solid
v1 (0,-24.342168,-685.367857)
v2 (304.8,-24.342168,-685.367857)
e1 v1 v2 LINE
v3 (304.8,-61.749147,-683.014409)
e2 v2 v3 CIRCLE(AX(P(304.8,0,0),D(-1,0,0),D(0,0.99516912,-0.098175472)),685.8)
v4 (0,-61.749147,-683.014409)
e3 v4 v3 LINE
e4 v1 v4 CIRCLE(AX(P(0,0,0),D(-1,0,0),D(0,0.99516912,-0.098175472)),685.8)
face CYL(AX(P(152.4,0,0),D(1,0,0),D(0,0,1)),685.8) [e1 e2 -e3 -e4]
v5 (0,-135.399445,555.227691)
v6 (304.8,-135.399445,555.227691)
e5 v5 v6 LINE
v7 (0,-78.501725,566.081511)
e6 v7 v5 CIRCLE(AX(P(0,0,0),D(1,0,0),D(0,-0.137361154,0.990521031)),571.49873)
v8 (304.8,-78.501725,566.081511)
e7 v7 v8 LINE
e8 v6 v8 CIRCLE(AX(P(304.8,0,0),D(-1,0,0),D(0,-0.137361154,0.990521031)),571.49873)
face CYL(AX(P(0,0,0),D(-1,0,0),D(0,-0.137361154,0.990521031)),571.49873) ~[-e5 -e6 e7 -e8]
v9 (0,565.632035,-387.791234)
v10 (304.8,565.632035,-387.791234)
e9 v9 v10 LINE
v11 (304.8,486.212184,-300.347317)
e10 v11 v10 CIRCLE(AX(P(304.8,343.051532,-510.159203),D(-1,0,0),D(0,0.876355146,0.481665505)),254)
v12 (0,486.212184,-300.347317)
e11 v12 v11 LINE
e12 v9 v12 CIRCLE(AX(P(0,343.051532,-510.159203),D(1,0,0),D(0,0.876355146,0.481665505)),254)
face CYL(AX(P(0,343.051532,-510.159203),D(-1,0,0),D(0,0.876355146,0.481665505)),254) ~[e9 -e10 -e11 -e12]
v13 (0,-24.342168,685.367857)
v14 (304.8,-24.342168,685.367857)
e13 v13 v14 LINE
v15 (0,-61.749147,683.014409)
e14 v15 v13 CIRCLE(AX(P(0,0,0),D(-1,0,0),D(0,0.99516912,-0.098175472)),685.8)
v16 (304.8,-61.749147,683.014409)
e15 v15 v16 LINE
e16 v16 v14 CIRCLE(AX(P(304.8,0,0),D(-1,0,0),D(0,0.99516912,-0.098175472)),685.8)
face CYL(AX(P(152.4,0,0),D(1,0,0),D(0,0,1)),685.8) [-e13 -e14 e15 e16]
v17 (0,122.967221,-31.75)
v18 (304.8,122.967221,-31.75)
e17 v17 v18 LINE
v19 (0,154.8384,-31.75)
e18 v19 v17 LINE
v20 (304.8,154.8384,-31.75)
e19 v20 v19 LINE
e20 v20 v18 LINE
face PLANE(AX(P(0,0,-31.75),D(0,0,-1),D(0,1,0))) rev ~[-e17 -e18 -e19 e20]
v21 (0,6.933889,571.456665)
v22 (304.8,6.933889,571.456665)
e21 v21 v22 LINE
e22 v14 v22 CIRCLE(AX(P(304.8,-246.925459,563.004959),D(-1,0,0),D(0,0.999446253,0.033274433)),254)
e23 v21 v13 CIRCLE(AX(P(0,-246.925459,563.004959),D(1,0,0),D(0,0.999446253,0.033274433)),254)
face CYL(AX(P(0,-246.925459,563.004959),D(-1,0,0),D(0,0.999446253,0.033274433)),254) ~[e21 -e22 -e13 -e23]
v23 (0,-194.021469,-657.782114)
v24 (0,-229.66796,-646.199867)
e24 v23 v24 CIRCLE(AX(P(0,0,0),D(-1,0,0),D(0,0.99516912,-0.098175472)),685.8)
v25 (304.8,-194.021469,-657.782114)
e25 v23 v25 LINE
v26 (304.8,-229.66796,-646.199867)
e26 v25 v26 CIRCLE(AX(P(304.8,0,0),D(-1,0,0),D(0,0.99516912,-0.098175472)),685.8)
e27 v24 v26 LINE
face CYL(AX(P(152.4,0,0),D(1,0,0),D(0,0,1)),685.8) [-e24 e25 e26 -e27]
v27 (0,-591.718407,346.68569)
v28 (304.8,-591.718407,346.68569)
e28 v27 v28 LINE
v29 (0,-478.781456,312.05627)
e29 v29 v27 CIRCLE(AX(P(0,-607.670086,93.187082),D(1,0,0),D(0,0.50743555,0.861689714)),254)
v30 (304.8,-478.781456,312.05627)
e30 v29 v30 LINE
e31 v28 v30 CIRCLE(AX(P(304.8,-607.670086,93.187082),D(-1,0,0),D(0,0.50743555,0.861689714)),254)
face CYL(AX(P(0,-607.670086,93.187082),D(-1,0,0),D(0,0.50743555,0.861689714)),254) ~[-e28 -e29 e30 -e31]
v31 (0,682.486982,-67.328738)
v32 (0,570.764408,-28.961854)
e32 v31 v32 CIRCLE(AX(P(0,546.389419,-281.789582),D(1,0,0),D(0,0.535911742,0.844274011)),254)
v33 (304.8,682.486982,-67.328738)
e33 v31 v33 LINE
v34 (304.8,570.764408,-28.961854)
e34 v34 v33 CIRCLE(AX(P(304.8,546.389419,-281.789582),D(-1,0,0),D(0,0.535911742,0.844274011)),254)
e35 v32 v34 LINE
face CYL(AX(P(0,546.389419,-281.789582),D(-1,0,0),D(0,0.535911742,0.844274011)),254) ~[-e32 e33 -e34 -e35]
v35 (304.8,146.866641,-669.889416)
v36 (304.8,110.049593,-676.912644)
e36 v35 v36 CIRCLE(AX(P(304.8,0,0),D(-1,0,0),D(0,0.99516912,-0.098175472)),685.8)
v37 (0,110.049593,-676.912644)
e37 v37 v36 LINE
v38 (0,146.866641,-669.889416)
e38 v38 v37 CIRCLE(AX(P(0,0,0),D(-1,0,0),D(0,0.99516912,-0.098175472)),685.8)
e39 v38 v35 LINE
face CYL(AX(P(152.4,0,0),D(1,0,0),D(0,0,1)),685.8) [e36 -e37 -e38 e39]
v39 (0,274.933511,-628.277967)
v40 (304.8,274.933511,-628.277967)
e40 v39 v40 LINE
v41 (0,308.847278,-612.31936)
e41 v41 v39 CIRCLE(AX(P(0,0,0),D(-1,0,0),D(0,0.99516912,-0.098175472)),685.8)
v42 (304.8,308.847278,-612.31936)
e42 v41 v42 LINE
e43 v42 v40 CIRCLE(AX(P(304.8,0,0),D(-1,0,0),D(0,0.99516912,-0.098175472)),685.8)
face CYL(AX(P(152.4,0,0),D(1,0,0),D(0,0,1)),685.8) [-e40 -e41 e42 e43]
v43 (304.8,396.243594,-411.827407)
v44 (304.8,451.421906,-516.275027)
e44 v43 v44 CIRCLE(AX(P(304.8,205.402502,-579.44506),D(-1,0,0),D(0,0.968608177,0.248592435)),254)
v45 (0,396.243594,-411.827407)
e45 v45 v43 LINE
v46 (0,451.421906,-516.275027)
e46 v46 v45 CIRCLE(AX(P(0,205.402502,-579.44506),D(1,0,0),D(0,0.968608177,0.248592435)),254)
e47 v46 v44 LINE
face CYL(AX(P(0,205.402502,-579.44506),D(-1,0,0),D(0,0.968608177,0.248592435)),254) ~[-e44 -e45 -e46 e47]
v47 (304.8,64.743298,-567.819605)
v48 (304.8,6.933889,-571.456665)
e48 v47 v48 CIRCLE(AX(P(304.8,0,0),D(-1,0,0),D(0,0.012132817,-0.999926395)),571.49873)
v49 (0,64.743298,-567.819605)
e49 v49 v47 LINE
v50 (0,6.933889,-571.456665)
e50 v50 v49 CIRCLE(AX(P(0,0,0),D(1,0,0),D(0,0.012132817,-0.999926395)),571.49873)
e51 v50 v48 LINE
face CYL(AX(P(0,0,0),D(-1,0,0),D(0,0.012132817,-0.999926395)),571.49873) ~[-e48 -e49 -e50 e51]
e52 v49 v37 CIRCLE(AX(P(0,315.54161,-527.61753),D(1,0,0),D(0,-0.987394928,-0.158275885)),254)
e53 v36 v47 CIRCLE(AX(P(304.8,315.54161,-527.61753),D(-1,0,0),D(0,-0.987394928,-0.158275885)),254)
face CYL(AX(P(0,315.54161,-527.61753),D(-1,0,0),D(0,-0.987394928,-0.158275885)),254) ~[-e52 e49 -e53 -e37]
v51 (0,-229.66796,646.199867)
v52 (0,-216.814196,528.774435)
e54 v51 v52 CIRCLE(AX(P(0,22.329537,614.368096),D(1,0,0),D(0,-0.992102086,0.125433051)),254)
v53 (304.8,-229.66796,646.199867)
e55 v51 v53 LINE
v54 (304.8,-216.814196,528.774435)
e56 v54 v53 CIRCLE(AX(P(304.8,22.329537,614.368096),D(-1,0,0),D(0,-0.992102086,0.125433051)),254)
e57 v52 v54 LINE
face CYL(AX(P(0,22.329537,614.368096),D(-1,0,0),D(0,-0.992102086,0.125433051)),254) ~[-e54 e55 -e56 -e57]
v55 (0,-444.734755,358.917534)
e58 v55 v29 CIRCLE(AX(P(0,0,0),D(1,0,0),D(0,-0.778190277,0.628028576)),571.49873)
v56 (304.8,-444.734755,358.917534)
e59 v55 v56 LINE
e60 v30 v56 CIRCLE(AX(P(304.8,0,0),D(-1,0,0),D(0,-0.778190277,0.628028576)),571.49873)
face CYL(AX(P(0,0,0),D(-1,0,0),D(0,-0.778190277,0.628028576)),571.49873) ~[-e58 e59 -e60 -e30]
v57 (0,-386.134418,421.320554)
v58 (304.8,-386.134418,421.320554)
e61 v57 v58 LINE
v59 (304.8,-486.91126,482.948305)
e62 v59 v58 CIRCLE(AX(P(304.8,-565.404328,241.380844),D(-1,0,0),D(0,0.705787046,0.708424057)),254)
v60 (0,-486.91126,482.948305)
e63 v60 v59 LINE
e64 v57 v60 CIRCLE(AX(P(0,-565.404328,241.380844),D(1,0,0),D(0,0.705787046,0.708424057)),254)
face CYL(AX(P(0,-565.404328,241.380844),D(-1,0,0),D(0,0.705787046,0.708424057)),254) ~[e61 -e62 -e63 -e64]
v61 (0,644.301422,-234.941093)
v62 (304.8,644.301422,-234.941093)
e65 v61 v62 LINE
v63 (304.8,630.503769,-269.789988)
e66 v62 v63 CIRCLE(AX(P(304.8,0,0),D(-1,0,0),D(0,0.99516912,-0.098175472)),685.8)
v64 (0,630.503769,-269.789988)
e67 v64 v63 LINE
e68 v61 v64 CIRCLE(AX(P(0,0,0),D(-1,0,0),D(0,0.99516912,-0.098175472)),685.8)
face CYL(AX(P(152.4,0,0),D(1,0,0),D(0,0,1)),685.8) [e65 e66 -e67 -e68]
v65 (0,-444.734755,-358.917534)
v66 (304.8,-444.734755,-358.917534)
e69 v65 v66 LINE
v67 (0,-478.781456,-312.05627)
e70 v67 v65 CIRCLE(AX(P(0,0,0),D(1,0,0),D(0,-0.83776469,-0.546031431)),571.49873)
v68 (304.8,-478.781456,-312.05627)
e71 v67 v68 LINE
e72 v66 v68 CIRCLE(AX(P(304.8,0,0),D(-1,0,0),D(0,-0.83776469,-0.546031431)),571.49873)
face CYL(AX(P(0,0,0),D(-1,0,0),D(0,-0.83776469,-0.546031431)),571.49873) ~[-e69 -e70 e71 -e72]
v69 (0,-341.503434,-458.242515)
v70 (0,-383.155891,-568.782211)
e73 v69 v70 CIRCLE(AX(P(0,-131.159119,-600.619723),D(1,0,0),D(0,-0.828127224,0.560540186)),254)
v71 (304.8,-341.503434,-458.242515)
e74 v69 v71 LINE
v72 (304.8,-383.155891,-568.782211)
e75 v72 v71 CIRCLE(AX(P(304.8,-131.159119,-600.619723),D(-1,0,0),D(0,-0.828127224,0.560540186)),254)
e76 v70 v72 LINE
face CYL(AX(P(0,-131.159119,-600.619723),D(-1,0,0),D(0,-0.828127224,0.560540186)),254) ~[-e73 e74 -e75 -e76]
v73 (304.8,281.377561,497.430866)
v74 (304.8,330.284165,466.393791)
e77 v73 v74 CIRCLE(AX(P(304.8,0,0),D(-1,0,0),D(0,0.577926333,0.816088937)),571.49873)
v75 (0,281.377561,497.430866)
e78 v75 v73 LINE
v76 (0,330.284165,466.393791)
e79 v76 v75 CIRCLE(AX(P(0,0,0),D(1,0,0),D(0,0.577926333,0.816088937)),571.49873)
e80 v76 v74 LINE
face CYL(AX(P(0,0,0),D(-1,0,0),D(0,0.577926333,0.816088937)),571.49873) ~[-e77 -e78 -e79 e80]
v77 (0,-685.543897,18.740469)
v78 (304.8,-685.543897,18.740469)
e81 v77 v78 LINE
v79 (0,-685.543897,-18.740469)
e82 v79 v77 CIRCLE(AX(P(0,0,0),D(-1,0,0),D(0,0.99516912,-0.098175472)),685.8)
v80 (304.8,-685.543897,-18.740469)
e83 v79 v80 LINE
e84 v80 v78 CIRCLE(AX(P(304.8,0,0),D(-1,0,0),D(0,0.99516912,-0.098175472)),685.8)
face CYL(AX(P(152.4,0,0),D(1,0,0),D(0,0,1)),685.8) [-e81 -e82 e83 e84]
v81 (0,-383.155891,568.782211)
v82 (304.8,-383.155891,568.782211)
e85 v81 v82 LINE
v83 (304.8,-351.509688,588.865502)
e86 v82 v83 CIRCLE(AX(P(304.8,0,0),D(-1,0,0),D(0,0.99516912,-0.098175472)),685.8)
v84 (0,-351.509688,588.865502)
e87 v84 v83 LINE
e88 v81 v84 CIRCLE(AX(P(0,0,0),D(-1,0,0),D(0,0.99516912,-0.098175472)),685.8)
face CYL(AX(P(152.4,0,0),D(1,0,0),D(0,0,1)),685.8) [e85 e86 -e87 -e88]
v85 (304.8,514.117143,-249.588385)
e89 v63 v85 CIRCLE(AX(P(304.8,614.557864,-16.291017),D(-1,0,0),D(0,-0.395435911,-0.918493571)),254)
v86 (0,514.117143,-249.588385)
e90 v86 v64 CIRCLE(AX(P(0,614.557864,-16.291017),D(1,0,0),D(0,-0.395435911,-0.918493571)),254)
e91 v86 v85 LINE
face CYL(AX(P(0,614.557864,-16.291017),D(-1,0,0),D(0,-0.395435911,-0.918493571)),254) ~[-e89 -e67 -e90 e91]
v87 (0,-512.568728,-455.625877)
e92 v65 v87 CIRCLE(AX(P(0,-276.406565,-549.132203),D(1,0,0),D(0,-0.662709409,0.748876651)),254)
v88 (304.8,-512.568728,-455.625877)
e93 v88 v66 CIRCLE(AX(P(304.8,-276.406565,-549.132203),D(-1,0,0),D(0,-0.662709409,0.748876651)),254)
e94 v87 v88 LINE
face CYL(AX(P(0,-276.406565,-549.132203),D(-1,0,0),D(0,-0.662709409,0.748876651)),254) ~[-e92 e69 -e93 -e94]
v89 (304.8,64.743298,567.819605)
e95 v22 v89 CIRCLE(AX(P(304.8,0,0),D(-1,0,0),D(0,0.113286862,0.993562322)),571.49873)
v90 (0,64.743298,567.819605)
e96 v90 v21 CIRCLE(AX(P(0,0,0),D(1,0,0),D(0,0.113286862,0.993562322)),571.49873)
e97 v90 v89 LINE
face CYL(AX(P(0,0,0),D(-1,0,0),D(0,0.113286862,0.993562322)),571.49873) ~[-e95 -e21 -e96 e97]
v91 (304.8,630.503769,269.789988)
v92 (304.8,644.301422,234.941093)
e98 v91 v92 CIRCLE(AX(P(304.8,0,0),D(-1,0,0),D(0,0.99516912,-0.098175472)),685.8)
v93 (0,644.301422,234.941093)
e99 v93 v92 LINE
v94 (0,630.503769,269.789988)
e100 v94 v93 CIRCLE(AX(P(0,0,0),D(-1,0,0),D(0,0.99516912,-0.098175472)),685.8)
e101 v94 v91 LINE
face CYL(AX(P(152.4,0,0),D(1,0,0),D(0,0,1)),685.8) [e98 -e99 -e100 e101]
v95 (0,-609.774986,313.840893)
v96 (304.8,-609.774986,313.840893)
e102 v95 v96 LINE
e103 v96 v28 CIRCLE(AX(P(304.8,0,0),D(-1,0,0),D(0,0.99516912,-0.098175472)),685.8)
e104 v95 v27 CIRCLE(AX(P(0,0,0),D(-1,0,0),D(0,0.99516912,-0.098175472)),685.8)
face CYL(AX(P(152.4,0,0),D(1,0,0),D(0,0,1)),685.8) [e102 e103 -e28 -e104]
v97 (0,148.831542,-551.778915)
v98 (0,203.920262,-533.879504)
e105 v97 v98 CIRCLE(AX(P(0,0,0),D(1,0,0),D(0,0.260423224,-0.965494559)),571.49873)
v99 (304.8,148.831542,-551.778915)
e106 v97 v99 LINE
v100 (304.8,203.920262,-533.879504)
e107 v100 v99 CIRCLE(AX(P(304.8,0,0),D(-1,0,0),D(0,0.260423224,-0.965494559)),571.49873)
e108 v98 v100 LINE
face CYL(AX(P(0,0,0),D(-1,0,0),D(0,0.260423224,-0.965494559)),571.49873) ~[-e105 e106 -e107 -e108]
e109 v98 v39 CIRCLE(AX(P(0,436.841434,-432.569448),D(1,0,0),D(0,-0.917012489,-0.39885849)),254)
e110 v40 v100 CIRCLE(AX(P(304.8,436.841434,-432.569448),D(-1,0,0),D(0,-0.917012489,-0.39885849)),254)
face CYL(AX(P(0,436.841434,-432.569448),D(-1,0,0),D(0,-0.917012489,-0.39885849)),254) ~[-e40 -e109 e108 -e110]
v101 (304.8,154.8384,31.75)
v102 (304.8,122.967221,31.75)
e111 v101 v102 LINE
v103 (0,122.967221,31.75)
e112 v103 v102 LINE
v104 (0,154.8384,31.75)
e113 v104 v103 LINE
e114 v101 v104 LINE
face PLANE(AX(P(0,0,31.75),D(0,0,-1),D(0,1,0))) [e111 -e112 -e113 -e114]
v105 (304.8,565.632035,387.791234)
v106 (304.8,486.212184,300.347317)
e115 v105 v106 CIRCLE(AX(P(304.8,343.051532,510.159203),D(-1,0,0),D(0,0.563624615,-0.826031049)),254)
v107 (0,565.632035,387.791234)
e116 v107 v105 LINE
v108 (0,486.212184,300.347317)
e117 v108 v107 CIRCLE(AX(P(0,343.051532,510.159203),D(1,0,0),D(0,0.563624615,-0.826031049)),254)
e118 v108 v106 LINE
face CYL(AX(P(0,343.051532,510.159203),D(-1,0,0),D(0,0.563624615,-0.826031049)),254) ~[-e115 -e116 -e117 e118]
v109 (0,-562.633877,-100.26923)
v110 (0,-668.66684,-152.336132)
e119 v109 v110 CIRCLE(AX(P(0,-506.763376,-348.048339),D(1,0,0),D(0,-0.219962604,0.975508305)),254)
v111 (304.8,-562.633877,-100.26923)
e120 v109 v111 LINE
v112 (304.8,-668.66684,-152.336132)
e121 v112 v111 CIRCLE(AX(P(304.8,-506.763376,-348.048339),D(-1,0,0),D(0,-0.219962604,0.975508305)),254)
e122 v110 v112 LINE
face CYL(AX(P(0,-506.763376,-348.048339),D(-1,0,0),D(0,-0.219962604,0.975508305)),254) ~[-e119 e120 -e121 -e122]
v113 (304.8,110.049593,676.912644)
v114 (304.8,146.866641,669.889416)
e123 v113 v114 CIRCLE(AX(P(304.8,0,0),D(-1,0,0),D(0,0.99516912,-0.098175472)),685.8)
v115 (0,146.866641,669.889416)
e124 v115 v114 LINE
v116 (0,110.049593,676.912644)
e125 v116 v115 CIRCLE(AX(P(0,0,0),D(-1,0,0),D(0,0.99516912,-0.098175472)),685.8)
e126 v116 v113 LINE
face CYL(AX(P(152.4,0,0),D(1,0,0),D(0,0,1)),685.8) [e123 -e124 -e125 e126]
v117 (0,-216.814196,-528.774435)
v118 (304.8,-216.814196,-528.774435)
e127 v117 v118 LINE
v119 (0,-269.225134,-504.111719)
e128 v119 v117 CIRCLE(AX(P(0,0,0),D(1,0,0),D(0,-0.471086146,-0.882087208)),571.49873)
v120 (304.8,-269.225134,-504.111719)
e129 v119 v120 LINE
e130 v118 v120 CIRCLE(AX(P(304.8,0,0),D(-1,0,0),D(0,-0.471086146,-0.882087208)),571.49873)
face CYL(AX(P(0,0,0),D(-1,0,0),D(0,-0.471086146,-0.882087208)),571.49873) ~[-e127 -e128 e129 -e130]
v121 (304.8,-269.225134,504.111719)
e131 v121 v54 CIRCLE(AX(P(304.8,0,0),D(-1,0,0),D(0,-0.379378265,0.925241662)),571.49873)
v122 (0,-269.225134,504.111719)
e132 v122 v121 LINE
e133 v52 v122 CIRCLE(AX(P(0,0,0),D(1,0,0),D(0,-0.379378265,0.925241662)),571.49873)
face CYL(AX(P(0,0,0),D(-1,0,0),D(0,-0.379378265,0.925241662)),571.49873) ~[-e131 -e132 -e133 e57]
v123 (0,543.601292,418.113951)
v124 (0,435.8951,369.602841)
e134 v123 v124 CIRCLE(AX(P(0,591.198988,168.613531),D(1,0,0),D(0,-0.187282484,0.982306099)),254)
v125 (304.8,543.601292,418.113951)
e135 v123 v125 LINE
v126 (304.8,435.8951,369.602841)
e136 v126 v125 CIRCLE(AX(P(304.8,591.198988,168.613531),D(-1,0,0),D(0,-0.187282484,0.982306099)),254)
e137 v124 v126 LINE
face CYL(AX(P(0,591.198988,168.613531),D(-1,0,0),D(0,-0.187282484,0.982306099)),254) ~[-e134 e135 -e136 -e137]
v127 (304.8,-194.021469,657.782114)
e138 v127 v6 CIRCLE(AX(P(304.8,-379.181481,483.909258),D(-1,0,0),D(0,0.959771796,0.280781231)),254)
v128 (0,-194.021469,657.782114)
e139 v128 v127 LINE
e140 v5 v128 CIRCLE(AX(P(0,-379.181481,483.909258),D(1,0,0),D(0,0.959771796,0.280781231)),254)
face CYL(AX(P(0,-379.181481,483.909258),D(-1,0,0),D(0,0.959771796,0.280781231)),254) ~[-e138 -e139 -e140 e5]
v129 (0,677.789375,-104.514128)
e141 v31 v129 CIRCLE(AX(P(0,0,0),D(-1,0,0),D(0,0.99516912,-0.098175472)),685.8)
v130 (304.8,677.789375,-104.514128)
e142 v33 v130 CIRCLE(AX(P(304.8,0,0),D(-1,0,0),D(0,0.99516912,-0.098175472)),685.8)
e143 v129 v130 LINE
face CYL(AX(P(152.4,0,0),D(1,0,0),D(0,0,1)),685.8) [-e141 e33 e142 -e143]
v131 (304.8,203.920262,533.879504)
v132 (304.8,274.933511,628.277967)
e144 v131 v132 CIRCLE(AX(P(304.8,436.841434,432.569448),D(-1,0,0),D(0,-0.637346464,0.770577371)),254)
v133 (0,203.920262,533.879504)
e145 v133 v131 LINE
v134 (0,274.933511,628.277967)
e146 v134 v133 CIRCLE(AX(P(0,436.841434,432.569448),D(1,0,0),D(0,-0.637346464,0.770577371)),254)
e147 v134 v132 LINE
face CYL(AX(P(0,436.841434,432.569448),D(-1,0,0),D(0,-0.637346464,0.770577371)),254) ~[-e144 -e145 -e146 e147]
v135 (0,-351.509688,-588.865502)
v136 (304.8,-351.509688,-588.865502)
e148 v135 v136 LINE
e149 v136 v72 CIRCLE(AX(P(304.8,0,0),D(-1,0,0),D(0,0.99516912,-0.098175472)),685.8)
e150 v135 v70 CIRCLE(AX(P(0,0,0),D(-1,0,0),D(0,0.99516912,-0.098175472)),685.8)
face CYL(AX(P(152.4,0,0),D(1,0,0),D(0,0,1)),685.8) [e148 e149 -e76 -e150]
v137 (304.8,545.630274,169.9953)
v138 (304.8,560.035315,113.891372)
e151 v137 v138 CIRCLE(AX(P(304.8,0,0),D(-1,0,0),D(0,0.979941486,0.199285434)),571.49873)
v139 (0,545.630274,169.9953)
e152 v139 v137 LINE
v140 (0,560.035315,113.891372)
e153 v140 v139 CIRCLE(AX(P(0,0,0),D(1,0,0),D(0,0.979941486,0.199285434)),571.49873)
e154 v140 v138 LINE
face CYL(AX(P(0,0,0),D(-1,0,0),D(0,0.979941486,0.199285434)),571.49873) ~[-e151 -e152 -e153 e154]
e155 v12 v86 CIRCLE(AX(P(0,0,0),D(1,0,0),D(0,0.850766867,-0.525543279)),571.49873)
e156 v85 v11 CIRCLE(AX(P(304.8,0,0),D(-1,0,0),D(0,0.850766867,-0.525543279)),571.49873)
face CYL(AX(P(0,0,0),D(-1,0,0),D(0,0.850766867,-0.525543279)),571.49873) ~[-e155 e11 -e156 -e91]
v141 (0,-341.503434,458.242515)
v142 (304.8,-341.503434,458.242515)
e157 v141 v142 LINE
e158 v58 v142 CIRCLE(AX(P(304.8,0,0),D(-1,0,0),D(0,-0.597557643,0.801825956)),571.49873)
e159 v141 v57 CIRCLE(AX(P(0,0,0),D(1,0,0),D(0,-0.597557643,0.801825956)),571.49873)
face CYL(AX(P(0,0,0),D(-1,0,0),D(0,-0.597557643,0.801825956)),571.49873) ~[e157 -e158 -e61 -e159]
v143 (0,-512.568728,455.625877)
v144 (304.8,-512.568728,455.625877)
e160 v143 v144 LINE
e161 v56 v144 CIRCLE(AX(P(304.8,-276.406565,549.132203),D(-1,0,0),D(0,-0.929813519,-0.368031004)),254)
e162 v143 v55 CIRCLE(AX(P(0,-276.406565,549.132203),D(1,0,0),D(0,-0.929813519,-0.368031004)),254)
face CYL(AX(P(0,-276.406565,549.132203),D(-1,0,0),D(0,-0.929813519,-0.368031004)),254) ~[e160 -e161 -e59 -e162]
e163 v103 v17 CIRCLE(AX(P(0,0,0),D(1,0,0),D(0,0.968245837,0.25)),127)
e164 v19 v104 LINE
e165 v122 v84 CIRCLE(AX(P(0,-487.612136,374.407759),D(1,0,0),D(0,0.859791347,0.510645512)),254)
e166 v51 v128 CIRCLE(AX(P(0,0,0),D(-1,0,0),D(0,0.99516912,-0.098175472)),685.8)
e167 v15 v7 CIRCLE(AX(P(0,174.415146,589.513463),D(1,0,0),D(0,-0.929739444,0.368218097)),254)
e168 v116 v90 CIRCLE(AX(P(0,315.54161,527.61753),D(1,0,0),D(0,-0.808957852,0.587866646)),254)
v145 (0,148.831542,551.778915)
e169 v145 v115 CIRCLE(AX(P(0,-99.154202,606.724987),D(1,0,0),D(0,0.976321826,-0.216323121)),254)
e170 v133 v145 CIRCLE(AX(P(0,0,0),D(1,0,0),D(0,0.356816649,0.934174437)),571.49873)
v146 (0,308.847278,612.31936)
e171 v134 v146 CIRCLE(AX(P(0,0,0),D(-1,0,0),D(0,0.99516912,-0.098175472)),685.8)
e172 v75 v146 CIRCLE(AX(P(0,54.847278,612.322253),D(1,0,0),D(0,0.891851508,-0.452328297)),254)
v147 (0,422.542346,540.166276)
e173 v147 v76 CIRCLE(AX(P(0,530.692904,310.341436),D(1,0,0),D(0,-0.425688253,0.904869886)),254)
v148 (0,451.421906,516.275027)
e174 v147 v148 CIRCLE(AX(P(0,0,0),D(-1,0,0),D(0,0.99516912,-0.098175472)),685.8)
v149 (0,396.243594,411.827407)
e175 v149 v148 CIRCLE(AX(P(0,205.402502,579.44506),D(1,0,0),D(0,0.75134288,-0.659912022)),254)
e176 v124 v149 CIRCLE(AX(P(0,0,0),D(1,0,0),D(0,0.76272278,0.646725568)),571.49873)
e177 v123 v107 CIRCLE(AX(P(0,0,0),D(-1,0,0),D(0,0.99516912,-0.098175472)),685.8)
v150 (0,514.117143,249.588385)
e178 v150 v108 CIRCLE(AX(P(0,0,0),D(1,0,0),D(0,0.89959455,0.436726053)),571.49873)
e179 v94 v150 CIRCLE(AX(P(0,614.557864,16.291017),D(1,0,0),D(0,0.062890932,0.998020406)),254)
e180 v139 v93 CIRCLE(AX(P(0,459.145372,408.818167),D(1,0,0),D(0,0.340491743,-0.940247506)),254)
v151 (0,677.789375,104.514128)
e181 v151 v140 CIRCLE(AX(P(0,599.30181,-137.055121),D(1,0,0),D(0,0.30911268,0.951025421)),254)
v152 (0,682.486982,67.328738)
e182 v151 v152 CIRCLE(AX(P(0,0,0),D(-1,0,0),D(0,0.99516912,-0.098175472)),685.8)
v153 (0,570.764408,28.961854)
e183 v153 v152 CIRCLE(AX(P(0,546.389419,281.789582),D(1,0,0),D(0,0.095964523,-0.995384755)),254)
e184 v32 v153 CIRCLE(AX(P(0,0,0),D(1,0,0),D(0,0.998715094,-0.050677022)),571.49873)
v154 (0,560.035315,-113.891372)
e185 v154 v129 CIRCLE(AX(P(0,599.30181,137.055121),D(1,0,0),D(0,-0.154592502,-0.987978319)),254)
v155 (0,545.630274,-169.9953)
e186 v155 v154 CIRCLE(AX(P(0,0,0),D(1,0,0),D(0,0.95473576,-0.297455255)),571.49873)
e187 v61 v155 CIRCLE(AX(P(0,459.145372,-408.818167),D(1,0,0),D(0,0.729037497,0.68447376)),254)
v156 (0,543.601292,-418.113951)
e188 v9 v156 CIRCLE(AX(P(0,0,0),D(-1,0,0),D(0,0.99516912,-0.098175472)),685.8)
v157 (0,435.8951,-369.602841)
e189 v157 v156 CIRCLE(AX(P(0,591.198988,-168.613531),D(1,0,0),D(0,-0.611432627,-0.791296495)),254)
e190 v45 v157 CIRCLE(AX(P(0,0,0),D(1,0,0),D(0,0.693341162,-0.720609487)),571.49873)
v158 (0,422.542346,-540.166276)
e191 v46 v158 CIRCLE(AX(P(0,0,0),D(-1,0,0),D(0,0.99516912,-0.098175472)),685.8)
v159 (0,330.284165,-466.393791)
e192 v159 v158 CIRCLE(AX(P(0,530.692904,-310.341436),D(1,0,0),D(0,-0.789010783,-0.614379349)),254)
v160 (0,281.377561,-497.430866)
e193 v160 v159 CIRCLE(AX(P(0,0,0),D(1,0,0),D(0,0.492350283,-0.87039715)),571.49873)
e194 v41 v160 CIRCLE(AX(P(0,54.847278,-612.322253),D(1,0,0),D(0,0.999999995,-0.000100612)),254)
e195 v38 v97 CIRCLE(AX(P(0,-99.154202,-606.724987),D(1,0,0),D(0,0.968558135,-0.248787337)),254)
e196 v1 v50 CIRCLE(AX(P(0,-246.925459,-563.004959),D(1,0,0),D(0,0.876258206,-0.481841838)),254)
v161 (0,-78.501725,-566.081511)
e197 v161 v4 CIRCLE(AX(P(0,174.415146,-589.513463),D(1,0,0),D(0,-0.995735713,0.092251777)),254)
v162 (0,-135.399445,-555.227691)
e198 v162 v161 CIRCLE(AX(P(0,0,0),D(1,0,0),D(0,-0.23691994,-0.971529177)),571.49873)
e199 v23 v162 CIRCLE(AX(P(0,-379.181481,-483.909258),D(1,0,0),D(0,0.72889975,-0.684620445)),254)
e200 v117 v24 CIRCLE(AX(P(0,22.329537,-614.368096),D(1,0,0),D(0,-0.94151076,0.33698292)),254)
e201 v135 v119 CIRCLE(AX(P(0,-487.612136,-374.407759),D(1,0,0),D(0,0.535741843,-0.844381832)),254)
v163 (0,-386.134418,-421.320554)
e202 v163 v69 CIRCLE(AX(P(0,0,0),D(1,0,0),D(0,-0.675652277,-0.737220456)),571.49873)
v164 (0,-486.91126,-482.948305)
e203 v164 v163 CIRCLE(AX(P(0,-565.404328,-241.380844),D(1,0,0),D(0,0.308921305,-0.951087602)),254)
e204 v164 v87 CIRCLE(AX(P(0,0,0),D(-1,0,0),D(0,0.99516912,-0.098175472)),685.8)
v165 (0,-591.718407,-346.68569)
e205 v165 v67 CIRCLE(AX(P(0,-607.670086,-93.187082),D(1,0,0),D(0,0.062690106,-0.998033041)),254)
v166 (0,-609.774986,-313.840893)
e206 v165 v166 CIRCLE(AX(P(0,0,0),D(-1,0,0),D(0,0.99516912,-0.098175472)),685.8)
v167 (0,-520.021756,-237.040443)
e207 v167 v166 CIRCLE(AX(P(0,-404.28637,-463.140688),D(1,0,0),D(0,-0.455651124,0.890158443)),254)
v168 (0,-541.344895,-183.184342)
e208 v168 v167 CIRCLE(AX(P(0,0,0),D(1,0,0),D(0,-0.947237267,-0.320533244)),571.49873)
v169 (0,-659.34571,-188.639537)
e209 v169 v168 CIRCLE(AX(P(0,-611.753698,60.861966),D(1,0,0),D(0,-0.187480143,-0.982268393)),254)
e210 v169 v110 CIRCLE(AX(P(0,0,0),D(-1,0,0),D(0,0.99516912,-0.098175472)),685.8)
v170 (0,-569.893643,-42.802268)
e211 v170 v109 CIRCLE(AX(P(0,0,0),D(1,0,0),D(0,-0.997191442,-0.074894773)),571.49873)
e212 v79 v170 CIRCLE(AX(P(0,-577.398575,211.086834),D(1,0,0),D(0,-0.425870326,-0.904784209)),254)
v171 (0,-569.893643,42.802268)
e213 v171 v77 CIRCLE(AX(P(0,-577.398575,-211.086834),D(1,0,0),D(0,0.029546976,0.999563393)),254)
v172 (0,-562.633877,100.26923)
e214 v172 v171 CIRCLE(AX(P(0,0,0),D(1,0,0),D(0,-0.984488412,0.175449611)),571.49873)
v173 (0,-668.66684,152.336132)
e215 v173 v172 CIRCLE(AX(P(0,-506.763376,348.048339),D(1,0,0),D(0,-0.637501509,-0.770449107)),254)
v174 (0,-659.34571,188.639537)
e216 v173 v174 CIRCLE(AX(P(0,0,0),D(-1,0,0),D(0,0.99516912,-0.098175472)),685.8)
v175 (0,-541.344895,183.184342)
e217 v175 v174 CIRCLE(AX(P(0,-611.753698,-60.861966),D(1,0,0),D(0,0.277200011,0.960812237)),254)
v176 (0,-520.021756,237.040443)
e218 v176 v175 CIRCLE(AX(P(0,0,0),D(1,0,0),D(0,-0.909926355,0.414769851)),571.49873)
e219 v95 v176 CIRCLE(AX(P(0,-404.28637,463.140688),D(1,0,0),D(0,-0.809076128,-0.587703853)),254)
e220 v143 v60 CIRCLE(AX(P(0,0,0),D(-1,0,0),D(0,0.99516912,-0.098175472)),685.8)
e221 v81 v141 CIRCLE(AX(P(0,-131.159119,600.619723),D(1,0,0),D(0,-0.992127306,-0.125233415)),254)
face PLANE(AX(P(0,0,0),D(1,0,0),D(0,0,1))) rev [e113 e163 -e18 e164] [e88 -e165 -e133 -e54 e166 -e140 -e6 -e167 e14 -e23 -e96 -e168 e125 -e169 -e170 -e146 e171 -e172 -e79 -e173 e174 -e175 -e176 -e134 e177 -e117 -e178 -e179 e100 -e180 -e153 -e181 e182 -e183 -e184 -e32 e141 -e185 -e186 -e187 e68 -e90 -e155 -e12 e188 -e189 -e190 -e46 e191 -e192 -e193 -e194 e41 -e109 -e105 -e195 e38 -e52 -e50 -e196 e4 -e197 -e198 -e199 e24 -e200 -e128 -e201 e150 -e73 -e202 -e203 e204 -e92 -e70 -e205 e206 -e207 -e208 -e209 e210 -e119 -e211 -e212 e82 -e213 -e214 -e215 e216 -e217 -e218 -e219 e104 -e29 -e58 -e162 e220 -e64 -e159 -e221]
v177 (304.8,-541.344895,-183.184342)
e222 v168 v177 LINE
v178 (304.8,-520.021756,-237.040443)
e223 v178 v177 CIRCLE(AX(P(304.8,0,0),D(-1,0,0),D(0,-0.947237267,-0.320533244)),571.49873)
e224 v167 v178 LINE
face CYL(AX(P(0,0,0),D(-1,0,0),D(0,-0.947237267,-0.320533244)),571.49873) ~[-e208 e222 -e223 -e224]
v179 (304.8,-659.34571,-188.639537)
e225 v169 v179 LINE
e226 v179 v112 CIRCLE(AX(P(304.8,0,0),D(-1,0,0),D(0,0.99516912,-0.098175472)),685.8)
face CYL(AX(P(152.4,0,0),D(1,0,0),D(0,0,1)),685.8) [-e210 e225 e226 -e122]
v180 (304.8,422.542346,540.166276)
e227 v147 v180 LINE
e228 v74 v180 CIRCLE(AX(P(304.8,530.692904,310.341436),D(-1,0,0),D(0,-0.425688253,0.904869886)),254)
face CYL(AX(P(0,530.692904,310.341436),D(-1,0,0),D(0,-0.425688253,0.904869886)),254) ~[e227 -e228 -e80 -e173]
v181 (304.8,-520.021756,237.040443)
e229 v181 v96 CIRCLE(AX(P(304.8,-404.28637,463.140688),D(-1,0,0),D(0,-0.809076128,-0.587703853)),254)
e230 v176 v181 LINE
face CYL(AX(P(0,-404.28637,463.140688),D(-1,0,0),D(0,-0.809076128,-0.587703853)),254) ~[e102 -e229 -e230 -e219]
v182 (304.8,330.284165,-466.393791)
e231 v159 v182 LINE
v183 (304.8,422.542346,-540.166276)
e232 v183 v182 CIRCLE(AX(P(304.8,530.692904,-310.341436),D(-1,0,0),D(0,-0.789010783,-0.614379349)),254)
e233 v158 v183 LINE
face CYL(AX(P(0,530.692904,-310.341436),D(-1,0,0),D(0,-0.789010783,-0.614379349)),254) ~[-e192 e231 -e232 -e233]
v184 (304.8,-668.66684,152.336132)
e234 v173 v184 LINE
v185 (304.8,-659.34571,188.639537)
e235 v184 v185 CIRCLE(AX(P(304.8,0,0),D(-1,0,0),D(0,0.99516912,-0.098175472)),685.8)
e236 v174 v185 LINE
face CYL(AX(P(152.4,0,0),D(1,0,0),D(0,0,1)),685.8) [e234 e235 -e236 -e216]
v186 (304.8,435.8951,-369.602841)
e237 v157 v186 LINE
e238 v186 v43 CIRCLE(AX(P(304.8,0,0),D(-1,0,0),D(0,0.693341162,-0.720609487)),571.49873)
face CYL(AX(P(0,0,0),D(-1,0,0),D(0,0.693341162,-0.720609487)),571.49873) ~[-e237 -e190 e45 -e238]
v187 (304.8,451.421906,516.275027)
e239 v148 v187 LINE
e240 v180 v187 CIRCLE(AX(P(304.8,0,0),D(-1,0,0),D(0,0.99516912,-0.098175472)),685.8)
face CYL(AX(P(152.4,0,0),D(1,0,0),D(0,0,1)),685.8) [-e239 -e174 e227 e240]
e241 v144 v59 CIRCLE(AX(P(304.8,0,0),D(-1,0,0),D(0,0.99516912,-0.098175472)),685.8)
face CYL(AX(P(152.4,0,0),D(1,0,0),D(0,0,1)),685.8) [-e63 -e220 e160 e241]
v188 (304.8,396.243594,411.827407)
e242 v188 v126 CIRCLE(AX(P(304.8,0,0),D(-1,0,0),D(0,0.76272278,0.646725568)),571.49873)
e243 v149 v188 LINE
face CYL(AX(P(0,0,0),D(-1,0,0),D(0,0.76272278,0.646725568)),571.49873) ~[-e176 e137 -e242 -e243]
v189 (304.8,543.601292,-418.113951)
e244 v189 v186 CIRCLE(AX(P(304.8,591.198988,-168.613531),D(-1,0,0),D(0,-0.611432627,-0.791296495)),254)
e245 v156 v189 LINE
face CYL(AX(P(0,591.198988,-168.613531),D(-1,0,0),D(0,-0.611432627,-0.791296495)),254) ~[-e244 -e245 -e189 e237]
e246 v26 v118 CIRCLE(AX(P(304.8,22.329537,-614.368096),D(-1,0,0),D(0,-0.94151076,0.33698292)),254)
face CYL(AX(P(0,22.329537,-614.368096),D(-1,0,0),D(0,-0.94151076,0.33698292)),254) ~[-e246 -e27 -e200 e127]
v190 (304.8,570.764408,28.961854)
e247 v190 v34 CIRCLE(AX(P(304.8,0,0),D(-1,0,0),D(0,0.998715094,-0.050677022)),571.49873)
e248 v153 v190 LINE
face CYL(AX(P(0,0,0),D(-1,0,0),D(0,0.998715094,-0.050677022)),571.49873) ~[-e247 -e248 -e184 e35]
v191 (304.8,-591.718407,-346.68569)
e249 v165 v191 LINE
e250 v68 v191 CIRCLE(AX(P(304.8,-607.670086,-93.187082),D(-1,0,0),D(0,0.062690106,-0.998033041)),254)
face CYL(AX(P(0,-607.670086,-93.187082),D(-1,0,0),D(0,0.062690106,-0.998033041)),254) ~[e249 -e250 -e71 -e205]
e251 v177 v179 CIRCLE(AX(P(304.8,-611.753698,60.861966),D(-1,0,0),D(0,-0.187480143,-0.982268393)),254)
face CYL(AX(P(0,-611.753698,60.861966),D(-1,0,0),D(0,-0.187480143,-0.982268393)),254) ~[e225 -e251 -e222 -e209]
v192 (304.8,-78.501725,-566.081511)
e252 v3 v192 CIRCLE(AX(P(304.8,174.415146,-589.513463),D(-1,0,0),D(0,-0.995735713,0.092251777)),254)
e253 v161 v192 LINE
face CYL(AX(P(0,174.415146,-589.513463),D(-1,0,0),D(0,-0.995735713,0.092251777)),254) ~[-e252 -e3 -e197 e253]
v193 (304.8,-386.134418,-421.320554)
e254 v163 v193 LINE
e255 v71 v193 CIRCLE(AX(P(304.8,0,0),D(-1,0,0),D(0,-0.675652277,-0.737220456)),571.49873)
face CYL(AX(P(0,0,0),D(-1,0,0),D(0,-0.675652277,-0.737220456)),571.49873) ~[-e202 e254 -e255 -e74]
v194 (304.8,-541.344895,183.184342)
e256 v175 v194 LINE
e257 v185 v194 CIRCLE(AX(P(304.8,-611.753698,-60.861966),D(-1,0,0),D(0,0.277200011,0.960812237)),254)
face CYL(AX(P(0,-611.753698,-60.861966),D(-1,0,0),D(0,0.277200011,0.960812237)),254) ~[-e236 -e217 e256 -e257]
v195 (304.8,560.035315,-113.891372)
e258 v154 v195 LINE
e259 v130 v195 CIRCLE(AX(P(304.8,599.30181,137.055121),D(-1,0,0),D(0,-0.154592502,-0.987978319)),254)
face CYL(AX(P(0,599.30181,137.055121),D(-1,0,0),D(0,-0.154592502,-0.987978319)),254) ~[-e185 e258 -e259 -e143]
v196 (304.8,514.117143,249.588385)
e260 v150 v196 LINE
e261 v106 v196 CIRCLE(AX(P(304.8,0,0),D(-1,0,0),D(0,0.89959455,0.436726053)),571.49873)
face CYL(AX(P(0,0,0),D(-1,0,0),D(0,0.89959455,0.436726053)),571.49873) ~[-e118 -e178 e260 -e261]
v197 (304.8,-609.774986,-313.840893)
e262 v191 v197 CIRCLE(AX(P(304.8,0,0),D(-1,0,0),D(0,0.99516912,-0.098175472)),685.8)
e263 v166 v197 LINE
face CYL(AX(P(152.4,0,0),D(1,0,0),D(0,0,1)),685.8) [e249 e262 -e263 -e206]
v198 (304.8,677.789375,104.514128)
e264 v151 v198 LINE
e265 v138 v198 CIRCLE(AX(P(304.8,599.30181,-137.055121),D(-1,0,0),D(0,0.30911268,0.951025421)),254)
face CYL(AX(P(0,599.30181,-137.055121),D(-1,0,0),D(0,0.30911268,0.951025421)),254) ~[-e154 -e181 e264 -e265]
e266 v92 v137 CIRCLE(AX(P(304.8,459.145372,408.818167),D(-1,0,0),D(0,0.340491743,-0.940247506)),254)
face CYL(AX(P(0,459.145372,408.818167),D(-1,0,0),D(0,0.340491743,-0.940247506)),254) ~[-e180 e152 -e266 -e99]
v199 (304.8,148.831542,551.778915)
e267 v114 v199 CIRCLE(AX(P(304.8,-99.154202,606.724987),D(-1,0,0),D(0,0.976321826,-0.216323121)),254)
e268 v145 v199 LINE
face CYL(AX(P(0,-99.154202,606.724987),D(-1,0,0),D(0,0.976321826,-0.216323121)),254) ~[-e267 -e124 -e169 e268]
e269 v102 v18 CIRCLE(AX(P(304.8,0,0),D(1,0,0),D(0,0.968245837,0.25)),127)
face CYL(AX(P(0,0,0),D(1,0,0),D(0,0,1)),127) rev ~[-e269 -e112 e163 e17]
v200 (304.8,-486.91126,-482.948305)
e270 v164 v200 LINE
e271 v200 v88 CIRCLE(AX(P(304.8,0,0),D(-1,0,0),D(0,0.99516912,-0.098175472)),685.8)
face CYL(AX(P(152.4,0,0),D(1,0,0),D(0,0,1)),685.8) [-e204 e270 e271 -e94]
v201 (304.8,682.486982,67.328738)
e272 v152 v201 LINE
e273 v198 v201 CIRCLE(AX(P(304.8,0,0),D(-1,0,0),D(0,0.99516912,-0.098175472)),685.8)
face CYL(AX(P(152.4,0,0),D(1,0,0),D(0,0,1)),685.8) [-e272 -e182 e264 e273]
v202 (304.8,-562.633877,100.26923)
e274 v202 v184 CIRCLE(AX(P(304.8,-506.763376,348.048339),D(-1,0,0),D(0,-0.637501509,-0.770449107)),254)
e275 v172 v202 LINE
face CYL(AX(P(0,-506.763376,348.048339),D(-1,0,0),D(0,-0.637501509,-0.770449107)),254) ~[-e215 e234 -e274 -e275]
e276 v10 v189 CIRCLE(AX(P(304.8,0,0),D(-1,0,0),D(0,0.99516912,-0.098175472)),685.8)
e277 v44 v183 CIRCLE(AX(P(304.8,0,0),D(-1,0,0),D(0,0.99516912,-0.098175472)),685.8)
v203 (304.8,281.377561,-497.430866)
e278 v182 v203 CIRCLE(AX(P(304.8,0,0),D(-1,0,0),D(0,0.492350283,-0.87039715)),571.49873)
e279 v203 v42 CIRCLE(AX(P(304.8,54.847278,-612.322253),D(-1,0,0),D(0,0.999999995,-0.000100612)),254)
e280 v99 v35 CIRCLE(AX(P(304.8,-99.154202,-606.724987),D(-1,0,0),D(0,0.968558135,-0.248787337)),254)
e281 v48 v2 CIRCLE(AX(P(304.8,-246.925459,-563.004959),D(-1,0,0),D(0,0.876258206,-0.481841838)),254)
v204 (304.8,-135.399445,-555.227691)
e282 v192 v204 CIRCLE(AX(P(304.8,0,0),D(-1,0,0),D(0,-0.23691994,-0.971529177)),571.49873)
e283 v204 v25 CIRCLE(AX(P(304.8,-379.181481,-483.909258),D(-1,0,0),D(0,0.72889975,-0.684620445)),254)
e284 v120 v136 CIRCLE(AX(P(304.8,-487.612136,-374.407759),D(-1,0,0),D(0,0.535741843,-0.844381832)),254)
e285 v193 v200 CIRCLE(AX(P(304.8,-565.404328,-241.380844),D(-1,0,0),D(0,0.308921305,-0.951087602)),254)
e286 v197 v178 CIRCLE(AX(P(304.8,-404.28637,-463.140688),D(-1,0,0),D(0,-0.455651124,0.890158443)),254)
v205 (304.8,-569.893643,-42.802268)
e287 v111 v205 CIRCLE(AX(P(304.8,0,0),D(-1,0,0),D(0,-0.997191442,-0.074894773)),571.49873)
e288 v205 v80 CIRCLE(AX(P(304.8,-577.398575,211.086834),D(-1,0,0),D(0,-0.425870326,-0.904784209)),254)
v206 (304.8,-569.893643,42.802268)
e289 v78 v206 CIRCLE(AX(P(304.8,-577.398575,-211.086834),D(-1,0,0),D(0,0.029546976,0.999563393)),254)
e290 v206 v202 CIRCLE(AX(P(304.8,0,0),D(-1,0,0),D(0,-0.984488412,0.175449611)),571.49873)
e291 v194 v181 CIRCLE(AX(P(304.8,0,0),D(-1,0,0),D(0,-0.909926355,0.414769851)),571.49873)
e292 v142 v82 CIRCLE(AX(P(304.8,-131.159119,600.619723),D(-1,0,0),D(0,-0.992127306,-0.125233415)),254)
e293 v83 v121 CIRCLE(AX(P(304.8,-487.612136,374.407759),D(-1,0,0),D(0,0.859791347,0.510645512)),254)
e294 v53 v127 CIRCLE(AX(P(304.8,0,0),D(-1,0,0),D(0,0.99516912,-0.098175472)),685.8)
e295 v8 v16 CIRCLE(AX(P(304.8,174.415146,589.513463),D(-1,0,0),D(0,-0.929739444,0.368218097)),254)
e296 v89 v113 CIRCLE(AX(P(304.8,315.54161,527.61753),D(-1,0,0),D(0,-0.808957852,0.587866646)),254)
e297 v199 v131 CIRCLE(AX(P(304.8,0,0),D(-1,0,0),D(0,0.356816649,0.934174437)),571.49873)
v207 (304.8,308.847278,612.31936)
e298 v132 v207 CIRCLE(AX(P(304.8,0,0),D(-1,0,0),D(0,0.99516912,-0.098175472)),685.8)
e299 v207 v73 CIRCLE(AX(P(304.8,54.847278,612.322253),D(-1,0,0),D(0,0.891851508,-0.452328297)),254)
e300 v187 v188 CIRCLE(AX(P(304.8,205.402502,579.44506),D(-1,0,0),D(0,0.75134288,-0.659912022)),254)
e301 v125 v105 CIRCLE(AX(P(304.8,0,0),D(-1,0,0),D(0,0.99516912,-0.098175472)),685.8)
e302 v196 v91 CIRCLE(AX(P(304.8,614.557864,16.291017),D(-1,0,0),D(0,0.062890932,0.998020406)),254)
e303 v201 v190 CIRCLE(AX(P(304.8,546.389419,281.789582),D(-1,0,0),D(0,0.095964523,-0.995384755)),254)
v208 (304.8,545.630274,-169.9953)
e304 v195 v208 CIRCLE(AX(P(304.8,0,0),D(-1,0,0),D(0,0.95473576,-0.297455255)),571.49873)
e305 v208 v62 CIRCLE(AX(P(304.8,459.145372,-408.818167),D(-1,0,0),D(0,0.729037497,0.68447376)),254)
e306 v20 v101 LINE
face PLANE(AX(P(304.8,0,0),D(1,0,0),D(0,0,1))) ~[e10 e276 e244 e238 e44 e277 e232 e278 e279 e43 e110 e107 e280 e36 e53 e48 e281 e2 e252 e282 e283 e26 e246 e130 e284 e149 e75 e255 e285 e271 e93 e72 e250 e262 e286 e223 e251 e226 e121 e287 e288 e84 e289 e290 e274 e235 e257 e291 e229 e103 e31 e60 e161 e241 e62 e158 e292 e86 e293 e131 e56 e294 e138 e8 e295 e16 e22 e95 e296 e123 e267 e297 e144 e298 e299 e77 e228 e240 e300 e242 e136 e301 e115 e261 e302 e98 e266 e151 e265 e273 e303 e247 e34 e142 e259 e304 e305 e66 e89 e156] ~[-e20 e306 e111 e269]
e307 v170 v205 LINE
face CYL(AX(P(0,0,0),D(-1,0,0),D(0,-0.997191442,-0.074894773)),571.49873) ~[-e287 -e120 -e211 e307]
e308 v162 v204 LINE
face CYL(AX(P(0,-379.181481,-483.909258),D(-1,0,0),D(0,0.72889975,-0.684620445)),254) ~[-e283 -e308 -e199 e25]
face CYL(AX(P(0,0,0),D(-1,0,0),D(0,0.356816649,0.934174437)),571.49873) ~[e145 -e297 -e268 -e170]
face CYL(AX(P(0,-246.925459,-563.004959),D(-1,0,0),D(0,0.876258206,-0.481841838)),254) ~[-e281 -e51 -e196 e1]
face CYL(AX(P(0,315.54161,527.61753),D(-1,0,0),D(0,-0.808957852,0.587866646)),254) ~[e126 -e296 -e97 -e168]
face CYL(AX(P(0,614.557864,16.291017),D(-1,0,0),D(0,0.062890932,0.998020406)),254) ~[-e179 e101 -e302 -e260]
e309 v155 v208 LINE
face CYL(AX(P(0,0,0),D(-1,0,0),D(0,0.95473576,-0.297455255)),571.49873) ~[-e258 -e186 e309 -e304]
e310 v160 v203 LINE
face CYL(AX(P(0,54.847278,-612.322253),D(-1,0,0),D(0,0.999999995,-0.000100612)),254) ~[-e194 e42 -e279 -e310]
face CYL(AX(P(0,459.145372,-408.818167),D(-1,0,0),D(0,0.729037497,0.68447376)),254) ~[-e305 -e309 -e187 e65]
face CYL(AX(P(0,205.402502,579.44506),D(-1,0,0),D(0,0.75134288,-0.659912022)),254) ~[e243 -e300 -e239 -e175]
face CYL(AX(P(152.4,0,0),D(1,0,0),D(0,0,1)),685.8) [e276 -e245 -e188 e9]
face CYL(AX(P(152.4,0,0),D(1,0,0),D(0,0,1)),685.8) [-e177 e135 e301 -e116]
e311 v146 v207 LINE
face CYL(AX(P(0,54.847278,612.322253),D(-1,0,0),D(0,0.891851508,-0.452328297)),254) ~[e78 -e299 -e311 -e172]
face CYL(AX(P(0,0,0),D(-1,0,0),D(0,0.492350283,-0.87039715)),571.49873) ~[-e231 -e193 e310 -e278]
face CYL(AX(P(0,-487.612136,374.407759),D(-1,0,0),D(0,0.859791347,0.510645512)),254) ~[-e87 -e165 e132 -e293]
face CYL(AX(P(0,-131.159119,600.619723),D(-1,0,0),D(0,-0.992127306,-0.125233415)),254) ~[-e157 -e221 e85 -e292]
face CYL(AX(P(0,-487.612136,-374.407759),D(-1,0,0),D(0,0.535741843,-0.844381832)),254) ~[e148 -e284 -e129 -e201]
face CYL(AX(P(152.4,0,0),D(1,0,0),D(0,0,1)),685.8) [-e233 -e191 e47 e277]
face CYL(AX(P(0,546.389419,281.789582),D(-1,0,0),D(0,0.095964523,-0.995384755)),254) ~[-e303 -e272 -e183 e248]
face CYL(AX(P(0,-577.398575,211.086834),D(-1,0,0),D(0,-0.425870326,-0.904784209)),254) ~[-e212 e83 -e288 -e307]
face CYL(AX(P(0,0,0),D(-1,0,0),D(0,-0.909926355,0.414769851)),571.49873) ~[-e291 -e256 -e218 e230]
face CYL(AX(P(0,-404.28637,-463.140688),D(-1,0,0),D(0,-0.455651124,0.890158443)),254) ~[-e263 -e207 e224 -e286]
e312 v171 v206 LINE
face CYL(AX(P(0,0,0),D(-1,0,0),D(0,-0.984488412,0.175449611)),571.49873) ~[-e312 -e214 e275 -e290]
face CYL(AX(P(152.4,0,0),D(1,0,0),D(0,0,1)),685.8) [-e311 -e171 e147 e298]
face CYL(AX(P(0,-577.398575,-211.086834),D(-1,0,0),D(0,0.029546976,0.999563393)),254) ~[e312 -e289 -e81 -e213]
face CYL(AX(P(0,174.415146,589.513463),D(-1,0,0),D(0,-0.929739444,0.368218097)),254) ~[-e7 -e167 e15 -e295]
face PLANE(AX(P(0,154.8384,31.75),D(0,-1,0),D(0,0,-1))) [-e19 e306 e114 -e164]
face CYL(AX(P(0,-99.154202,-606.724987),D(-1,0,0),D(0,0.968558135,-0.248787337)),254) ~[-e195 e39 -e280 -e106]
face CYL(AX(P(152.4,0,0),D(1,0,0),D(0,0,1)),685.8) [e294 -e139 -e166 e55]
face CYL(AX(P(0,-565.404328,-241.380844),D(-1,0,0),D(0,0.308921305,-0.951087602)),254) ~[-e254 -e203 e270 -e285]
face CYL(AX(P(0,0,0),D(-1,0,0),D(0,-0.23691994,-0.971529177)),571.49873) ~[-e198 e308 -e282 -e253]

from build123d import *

# Parameters (mm, degrees)
BASPROSKE_W     = 304.8
BASPROSKE_H     = 685.8
TOOTHCUT_DEPTH  = 1017.634801686
TEETHCUTS_COUNT = 25
TEETHCUTS_ANGLE = 345.6
BORSKE_R        = 127
BORE_DEPTH      = 304.8000508
KEYSKE_W        = 63.5
KEYSKE_H        = 154.8384
KEYWAY_DEPTH    = 304.8000508


with BuildPart() as part:
    # BasProSke → Base-Revolve (revolve)
    with BuildSketch(Plane(origin=(0, 0, 0), x_dir=(1, 0, 0), z_dir=(0, 1, 0)), mode=Mode.PRIVATE) as base_revolve_sk:
        with Locations((152.4, 342.9)):
            Rectangle(BASPROSKE_W, BASPROSKE_H)
    revolve(base_revolve_sk.sketch.rotate(Axis((-10, 0, 0), (1, 0, 0)), 180), axis=Axis((-10, 0, 0), (1, 0, 0)))

    # TooCutSke → ToothCut (cut, through all)
    with BuildSketch(Plane(origin=(0, 0, 0), x_dir=(0, 0, -1), z_dir=(1, 0, 0))):
        with BuildLine():
            ThreePointArc((28.961853932, 570.764407973), (0, 571.49873), (-28.961853932, 570.764407973))
            ThreePointArc((-28.961853932, 570.764407973), (-41.564862504, 628.900535379), (-67.343982953, 682.511001556))
            ThreePointArc((-67.343982953, 682.511001556), (0, 685.8254), (67.343982953, 682.511001556))
            ThreePointArc((67.343982953, 682.511001556), (41.564862504, 628.900535379), (28.961853932, 570.764407973))
        make_face()
    toothcut = extrude(amount=TOOTHCUT_DEPTH, mode=Mode.SUBTRACT)

    # TeethCuts: ToothCut ×25 about axis
    teethcuts_axis = Axis((-10, 0, 0), (1, 0, 0))
    for i in range(1, TEETHCUTS_COUNT):
        add(toothcut.rotate(teethcuts_axis, i * TEETHCUTS_ANGLE / (TEETHCUTS_COUNT - 1)), mode=Mode.SUBTRACT)

    # BorSke → Bore (cut, symmetric)
    with BuildSketch(Plane(origin=(0, 0, 0), x_dir=(0, 0, -1), z_dir=(1, 0, 0))):
        with Locations(Location((0, 0, 0), (0, 0, 180))):
            Circle(BORSKE_R)
    extrude(amount=BORE_DEPTH, both=True, mode=Mode.SUBTRACT)

    # KeySke → Keyway (cut, symmetric)
    with BuildSketch(Plane(origin=(0, 0, 0), x_dir=(0, 0, -1), z_dir=(1, 0, 0))):
        with Locations((0, 77.4192)):
            Rectangle(KEYSKE_W, KEYSKE_H)
    extrude(amount=KEYWAY_DEPTH, both=True, mode=Mode.SUBTRACT)


solid = part.part
